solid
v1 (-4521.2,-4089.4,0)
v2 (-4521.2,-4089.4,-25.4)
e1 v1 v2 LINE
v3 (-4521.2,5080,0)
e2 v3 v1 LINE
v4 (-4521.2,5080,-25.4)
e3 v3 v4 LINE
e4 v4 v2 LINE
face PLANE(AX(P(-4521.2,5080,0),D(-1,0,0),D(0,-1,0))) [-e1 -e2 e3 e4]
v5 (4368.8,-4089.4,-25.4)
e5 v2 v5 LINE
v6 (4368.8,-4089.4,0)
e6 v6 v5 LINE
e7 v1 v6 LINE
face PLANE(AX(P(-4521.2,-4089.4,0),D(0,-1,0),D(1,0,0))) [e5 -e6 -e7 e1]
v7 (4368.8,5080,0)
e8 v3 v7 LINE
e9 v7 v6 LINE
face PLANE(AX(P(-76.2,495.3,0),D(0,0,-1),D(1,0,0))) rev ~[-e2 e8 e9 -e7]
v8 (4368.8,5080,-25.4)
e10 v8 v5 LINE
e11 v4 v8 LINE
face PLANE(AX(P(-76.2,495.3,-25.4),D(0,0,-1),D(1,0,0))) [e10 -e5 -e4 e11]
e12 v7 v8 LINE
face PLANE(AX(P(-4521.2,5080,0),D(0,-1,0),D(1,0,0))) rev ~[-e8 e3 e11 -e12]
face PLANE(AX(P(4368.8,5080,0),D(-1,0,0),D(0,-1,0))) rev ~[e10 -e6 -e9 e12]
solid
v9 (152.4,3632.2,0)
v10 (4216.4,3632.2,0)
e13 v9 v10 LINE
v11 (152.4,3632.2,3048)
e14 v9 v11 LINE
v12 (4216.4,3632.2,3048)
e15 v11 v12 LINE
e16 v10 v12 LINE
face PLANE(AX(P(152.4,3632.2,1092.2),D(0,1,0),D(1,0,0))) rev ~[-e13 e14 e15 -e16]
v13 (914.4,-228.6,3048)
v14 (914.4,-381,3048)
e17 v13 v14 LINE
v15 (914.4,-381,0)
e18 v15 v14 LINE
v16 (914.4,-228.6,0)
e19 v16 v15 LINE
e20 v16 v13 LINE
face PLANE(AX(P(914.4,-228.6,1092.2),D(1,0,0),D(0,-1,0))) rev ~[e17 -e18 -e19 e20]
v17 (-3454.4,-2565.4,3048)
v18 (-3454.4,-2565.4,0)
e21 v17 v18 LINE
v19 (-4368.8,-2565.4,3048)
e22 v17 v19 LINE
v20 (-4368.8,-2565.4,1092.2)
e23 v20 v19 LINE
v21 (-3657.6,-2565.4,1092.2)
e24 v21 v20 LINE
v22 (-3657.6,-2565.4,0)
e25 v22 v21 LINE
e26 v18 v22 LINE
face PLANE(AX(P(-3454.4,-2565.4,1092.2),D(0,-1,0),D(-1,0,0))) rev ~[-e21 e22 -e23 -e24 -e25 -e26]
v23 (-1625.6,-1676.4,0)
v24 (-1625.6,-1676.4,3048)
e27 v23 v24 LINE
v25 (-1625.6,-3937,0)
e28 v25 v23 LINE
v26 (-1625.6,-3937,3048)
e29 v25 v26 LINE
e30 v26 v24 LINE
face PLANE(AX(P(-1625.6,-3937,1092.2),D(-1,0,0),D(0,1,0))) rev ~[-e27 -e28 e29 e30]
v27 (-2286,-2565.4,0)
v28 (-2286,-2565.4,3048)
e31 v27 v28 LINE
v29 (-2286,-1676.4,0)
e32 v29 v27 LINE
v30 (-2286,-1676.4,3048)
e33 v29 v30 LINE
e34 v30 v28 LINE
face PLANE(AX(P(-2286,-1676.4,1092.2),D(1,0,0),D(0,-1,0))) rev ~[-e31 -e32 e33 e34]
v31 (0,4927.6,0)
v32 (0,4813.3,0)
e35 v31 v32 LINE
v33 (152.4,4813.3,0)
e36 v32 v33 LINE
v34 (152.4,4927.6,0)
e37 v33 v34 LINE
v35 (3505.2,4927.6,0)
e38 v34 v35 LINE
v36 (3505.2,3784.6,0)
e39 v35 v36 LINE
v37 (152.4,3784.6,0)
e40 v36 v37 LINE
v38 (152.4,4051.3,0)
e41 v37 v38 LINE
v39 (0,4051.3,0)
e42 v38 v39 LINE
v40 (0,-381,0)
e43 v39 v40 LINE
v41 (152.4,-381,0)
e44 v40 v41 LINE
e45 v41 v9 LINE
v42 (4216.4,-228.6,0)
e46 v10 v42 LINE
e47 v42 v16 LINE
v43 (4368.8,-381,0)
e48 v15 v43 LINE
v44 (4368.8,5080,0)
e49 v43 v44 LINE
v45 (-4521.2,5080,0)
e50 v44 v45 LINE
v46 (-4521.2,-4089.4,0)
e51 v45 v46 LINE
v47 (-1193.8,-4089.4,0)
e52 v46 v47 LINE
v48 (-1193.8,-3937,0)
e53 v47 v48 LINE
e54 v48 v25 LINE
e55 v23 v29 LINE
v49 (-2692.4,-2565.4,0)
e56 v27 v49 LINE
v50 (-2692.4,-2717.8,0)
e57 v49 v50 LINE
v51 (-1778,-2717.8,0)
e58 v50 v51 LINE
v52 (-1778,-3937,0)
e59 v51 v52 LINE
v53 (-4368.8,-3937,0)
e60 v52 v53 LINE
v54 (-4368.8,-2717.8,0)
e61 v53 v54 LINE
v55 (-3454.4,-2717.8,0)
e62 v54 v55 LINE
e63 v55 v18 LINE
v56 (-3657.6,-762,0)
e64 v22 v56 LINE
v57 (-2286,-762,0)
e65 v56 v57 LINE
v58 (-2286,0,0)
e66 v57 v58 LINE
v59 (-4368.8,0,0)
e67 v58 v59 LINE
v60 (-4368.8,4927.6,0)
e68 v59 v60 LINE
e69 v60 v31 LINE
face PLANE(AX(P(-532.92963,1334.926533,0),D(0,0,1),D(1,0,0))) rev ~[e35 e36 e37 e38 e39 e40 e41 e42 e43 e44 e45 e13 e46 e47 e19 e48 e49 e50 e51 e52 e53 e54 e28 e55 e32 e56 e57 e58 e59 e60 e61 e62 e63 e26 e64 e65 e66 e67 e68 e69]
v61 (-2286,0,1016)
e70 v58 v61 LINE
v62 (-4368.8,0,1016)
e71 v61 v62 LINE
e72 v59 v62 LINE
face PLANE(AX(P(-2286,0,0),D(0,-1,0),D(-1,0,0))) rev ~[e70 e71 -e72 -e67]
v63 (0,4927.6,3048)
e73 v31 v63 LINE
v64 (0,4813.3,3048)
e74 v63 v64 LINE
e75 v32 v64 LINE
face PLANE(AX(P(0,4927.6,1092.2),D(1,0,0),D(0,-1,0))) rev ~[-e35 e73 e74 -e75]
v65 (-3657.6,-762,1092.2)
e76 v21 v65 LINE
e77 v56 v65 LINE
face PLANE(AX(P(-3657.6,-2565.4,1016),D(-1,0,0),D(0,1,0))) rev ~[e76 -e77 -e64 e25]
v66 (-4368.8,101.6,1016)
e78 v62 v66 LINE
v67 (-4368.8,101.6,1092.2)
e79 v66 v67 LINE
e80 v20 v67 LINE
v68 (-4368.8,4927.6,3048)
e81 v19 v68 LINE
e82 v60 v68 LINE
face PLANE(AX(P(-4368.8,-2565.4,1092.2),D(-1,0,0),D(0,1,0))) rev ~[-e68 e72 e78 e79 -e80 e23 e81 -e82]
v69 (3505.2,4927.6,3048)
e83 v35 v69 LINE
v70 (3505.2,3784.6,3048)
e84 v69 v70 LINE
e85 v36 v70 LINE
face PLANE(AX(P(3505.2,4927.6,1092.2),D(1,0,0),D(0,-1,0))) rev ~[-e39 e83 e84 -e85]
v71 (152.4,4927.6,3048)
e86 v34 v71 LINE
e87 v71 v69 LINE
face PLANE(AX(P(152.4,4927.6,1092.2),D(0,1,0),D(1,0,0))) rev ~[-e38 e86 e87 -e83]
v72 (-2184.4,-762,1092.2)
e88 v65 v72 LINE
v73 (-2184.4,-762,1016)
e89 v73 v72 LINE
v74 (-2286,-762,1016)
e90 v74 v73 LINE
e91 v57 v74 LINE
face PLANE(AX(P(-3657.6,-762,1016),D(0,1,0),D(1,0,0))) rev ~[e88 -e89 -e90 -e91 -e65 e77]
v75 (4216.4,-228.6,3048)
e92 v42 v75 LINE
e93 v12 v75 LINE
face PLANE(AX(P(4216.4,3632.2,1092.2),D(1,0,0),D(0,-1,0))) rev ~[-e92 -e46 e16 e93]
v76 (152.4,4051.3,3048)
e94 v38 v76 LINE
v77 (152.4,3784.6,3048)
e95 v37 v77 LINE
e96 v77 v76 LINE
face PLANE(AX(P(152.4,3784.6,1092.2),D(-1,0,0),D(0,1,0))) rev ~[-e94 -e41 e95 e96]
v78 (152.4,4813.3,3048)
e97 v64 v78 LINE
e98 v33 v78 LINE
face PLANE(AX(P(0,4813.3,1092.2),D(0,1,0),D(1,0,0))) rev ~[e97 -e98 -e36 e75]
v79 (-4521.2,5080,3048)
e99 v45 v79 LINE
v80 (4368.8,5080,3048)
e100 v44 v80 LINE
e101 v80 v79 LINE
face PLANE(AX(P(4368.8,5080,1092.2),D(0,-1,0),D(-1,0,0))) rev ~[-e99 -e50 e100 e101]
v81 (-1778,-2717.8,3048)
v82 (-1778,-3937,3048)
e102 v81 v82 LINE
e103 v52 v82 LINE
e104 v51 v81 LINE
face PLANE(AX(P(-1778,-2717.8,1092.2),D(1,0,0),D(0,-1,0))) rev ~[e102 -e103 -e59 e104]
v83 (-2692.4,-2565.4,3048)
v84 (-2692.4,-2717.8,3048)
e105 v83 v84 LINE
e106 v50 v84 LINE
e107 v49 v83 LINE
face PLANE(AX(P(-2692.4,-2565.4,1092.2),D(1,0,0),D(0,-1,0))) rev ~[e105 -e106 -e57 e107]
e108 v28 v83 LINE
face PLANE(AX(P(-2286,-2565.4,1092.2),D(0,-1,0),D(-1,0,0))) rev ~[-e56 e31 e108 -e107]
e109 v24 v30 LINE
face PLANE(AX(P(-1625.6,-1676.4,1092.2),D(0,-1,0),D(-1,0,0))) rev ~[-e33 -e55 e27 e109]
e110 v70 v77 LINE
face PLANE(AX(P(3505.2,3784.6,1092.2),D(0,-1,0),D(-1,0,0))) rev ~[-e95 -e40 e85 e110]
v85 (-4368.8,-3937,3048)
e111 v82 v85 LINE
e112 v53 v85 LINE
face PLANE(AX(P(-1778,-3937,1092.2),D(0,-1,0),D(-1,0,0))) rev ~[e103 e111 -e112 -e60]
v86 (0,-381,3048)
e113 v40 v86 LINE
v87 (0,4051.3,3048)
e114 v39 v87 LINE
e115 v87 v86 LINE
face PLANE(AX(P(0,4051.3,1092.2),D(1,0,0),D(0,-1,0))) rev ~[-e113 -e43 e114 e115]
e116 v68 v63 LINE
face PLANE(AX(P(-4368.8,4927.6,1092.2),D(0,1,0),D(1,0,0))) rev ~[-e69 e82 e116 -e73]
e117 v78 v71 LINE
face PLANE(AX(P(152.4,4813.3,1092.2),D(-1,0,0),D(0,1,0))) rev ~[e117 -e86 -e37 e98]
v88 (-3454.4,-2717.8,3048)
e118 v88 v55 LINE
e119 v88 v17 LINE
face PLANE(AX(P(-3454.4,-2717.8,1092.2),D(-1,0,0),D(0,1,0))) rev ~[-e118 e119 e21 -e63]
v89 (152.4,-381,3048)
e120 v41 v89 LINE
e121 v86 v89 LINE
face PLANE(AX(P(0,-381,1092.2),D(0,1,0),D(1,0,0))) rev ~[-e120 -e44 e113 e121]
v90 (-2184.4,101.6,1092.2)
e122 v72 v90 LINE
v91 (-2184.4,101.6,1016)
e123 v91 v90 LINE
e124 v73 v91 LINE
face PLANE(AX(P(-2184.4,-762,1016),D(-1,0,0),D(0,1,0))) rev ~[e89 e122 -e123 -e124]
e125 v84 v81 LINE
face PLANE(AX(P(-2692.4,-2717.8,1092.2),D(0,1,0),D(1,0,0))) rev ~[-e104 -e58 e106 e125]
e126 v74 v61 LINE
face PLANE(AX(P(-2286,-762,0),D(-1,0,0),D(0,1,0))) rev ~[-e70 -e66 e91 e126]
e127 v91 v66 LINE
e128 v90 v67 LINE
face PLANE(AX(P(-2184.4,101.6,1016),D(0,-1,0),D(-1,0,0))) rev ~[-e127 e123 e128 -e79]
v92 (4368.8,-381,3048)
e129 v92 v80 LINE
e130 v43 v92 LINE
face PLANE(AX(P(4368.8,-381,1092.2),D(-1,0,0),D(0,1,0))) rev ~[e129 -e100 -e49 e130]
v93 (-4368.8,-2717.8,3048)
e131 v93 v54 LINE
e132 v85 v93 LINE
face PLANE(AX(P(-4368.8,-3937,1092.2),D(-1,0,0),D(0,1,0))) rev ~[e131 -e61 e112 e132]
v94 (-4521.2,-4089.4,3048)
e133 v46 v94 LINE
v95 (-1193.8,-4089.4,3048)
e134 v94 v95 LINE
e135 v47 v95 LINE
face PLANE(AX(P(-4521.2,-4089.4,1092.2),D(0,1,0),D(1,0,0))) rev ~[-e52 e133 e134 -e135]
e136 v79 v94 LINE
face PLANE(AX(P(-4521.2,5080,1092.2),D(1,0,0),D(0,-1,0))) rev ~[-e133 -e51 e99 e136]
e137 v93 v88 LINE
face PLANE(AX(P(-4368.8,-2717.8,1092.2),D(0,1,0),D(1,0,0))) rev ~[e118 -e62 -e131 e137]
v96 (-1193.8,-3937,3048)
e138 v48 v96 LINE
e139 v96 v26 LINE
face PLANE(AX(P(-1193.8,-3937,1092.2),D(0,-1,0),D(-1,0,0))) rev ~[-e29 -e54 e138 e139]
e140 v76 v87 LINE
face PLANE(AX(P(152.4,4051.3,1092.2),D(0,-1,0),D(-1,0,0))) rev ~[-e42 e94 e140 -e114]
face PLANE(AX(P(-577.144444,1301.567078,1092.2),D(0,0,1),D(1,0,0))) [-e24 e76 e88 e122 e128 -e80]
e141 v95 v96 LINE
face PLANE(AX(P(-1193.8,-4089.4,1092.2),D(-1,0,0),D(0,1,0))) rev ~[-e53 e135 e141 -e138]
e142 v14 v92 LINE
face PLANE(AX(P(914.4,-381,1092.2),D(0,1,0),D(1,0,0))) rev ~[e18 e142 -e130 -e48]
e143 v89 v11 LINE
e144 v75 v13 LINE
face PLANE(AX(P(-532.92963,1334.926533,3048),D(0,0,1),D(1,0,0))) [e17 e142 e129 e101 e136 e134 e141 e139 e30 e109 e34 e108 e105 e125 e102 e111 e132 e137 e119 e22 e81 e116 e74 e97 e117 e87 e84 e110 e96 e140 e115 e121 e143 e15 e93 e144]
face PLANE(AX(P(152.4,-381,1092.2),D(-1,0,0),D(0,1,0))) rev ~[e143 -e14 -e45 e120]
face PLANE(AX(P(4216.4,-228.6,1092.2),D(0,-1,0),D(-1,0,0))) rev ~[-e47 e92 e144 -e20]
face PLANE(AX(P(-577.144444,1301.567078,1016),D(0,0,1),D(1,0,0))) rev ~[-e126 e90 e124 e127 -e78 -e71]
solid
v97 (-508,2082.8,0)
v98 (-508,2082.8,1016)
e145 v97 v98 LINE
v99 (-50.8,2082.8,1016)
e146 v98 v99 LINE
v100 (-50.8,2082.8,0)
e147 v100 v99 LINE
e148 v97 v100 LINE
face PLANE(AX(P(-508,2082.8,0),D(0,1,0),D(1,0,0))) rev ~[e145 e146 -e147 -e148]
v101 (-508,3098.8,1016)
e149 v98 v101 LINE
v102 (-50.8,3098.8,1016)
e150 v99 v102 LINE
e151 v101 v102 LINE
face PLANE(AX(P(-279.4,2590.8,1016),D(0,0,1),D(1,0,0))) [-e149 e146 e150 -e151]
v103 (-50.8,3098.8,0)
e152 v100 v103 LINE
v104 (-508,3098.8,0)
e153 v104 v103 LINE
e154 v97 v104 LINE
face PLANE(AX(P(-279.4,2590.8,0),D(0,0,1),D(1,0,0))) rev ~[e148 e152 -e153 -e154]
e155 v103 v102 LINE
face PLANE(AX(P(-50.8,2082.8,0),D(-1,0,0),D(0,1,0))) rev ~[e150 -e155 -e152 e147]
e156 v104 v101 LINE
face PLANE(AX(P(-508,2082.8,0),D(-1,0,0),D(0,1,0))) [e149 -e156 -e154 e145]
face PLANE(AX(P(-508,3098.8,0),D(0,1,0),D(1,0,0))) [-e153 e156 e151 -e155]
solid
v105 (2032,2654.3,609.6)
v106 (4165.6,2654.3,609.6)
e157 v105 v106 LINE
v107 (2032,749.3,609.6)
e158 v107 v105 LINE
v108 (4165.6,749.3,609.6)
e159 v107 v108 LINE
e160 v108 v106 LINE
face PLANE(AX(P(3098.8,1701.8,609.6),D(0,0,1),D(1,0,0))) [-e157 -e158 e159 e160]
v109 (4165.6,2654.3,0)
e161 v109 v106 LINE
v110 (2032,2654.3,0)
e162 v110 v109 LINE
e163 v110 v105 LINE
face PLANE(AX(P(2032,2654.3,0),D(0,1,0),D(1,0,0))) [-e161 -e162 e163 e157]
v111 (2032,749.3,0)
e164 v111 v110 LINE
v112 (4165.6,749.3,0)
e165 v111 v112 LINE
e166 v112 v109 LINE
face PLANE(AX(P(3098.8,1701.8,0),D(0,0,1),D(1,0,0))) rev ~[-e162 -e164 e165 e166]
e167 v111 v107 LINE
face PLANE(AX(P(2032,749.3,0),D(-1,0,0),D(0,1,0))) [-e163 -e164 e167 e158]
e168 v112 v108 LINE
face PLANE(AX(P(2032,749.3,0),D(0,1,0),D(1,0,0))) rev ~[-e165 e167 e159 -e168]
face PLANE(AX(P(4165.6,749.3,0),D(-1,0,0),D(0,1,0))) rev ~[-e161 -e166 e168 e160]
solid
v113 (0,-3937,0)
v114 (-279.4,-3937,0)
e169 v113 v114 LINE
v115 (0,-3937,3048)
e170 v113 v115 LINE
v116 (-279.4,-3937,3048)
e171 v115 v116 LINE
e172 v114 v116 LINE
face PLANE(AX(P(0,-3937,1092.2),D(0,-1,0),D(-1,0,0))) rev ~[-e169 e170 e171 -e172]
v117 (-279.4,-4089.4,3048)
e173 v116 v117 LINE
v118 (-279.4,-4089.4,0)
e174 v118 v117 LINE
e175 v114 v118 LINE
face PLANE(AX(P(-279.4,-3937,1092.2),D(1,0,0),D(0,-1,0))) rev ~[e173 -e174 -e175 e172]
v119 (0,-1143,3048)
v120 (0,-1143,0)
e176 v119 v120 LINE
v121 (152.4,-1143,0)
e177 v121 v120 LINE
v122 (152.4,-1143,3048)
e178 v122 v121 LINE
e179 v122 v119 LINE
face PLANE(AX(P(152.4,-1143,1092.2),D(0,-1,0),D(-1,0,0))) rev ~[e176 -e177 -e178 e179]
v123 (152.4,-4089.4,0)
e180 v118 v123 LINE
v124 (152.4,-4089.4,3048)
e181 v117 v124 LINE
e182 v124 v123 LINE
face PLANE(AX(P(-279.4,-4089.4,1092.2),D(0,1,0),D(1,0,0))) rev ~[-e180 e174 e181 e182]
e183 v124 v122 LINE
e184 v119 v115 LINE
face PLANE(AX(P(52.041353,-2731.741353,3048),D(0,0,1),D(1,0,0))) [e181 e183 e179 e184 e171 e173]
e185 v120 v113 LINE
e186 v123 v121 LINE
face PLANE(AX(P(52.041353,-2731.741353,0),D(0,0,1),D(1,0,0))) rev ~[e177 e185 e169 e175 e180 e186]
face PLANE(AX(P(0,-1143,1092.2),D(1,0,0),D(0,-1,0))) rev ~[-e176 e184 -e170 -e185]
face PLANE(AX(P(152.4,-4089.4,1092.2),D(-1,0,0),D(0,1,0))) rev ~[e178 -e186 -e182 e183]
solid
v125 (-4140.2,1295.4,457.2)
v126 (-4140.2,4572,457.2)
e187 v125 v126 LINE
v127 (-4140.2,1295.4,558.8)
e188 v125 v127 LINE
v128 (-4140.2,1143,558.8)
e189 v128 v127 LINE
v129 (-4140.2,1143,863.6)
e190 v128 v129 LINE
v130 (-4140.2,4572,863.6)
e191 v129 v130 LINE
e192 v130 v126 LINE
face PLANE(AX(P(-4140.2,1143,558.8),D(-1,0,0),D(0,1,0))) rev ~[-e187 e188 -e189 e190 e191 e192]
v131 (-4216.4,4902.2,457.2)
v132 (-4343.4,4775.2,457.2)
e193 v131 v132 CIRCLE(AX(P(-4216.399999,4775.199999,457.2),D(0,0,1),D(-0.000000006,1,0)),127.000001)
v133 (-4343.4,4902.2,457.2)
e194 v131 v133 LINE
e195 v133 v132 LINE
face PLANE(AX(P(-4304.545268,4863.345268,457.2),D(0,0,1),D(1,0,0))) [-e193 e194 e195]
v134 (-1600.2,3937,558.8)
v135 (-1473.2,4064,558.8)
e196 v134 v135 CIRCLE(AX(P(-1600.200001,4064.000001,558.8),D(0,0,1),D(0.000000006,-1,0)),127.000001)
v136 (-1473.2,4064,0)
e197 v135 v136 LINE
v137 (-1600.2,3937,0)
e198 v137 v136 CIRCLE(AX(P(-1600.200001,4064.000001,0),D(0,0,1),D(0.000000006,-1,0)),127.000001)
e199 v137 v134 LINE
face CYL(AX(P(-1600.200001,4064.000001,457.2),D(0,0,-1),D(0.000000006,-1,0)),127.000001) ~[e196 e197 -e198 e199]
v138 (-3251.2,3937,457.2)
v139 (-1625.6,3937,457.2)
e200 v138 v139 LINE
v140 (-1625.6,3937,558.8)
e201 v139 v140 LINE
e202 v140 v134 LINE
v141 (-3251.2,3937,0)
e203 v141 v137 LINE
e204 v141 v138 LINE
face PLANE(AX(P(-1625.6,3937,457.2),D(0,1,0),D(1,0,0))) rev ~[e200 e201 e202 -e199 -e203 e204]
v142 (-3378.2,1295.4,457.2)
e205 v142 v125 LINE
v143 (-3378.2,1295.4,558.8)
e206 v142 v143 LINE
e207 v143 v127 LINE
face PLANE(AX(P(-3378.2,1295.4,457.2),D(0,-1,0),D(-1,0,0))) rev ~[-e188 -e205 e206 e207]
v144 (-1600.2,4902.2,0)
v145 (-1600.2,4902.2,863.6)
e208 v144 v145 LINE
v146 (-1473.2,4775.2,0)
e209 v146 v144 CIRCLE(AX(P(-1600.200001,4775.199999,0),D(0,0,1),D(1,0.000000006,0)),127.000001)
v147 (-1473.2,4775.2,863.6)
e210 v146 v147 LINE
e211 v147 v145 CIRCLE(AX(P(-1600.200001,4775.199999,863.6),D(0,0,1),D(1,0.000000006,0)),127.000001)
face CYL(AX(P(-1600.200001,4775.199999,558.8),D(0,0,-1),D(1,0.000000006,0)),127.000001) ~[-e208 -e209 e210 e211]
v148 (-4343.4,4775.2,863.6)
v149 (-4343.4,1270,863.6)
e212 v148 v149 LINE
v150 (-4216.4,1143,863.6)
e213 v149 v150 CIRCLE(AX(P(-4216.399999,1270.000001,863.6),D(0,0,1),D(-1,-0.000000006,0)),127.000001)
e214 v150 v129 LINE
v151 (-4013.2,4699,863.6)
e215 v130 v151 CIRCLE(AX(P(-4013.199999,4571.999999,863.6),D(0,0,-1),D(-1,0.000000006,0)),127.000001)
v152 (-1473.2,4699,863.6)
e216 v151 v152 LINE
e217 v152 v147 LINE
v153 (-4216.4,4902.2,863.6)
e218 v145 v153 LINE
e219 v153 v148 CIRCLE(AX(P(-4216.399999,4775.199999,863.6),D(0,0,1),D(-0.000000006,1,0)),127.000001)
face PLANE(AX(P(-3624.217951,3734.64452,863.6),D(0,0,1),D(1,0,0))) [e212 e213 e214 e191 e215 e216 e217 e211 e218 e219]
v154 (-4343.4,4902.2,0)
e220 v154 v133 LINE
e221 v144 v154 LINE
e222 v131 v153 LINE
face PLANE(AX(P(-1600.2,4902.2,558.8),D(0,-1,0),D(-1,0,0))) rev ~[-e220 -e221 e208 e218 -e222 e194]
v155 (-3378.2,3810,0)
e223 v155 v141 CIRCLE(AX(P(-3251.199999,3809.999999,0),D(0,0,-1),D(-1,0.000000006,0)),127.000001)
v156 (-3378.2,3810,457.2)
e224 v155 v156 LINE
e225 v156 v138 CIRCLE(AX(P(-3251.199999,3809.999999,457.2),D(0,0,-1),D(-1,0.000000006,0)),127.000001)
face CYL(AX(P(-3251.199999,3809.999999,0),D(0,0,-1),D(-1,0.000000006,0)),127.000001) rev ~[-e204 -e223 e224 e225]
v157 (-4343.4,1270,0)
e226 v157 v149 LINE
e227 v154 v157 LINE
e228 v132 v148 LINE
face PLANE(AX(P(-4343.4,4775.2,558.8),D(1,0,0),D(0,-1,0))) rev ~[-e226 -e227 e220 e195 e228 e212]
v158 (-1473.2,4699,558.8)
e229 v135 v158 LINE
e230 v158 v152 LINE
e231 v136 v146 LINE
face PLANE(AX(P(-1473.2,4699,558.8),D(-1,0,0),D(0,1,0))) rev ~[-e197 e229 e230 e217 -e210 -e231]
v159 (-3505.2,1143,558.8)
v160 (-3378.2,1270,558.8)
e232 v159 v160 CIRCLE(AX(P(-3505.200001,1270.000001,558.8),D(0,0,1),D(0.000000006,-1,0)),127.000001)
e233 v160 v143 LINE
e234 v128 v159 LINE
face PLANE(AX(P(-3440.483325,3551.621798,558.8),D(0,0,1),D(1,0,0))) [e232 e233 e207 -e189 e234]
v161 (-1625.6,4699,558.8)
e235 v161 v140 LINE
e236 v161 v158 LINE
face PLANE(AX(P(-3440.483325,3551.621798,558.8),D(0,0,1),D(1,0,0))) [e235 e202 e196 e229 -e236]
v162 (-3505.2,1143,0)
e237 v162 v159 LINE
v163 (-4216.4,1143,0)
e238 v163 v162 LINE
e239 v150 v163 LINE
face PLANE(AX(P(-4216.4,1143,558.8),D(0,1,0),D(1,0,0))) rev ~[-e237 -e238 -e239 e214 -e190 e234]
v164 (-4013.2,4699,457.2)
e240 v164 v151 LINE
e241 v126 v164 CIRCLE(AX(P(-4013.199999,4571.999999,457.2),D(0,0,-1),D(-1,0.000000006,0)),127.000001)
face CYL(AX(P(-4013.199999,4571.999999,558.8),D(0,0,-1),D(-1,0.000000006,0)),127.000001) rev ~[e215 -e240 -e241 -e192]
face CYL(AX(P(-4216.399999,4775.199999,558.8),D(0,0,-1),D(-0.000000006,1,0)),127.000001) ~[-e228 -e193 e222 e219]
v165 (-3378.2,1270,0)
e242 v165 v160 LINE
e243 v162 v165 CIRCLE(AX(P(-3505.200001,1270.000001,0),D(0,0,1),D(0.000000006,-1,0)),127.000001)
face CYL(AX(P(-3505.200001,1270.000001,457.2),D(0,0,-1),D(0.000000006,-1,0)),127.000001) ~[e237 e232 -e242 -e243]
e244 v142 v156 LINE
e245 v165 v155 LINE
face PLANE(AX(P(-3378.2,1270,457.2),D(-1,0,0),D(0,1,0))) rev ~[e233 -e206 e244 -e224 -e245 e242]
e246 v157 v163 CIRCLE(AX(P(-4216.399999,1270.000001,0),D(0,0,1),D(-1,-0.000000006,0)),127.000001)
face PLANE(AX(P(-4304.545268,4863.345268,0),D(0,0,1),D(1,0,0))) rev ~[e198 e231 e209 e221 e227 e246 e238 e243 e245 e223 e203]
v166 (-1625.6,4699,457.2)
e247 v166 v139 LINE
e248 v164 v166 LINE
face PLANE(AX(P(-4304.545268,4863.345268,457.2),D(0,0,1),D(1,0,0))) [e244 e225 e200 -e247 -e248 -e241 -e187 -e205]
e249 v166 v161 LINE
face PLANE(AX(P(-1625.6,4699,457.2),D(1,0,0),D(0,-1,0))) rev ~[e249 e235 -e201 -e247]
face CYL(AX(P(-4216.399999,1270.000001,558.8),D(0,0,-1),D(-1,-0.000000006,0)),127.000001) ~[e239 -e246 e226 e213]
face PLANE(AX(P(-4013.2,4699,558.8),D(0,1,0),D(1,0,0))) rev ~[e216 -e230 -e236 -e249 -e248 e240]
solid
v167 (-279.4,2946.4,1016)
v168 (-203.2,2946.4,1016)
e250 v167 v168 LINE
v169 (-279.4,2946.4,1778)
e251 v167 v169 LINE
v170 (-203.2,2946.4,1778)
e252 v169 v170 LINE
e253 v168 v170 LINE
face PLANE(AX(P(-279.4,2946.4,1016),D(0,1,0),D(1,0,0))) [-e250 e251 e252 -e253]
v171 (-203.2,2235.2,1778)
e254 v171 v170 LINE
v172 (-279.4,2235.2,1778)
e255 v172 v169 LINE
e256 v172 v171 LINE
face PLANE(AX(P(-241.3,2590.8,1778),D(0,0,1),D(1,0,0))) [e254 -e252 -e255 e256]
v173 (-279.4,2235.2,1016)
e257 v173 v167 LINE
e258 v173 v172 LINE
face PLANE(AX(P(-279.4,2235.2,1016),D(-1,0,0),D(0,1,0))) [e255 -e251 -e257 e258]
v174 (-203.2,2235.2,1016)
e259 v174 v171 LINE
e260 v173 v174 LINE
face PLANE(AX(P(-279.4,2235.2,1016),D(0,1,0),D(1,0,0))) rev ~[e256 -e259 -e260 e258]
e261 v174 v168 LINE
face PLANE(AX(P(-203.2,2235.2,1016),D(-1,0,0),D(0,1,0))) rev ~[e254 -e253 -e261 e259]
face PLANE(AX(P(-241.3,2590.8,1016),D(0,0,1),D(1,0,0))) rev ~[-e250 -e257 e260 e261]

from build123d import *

# Parameters (mm, degrees)
F1_DEPTH  = 1016
F3_DEPTH  = 76.2
F5_DEPTH  = 1955.8
F6_W      = 8890
F6_H      = 9169.4
F7_DEPTH  = 25.4
F9_DEPTH  = 457.2
F11_DEPTH = 101.6
F13_DEPTH = 304.8
F14_W     = 457.2
F14_H     = 1016
F15_DEPTH = 1016
F16_W     = 76.2
F16_H     = 711.2
F17_DEPTH = 762
F18_W     = 2133.6
F18_H     = 1905
F19_DEPTH = 609.6


with BuildPart() as f1:
    # F0 (on Top) → F1 (new body)
    with BuildSketch(Plane.XY):
        Polygon((-4368.8, 152.4), (-4368.8, 4927.6), (0, 4927.6), (0, 4813.3), (152.4, 4813.3), (152.4, 4927.6), (3505.2, 4927.6), (3505.2, 3784.6), (152.4, 3784.6), (152.4, 4051.3), (0, 4051.3), (0, 0), (0, -381), (152.4, -381), (152.4, 0), (152.4, 3632.2), (4216.4, 3632.2), (4216.4, -228.6), (914.4, -228.6), (914.4, -381), (4216.4, -381), (4368.8, -381), (4368.8, 3632.2), (4368.8, 3784.6), (4368.8, 5080), (3505.2, 5080), (152.4, 5080), (-4521.2, 5080), (-4521.2, 0), (-4521.2, -6.74503), (-4521.2, -1866.195499), (-4521.2, -4089.4), (-4368.8, -4089.4), (-1625.6, -4089.4), (-1193.8, -4089.4), (-1193.8, -3937), (-1625.6, -3937), (-1625.6, -2565.4), (-1625.6, -1676.4), (-2286, -1676.4), (-2286, -2565.4), (-2692.4, -2565.4), (-2692.4, -2717.8), (-1778, -2717.8), (-1778, -3937), (-4368.8, -3937), (-4368.8, -2717.8), (-3454.4, -2717.8), (-3454.4, -2565.4), (-3657.6, -2565.4), (-4368.8, -2565.4), (-4368.8, -762), (-4368.8, 0), align=None)
        Polygon((-3657.6, 0), (-4368.8, 0), (-4368.8, -762), (-4368.8, -2565.4), (-3657.6, -2565.4), (-3657.6, -762), (-2286, -762), (-2286, 0), (-2311.890112, 0), align=None)
        Polygon((-279.4, -4089.4), (152.4, -4089.4), (152.4, -3937), (152.4, -1143), (0, -1143), (0, -3937), (-279.4, -3937), align=None)
    extrude(amount=F1_DEPTH)

    # F2 (on face) → F3 (join)
    with BuildSketch(Plane.XY.offset(1016)):
        Polygon((-2286, -762), (-2286, 0), (-4368.8, 0), (-4368.8, 101.6), (-4368.8, 4927.6), (0, 4927.6), (0, 4813.3), (152.4, 4813.3), (152.4, 4927.6), (3505.2, 4927.6), (3505.2, 3784.6), (152.4, 3784.6), (152.4, 4051.3), (0, 4051.3), (0, -381), (152.4, -381), (152.4, 3632.2), (4216.4, 3632.2), (4216.4, -228.6), (914.4, -228.6), (914.4, -381), (4368.8, -381), (4368.8, 5080), (-4521.2, 5080), (-4521.2, -4089.4), (-1193.8, -4089.4), (-1193.8, -3937), (-1625.6, -3937), (-1625.6, -1676.4), (-2286, -1676.4), (-2286, -2565.4), (-2692.4, -2565.4), (-2692.4, -2717.8), (-1778, -2717.8), (-1778, -3937), (-4368.8, -3937), (-4368.8, -2717.8), (-3454.4, -2717.8), (-3454.4, -2565.4), (-3657.6, -2565.4), (-3657.6, -762), align=None)
        Polygon((0, -1143), (0, -3937), (-279.4, -3937), (-279.4, -4089.4), (152.4, -4089.4), (152.4, -1143), align=None)
        Polygon((-4368.8, 0), (-2286, 0), (-2286, -762), (-2184.4, -762), (-2184.4, 101.6), (-2286, 101.6), (-4368.8, 101.6), align=None)
    extrude(amount=F3_DEPTH)

    # F4 (on face) → F5 (join)
    with BuildSketch(Plane.XY.offset(1092.2)):
        Polygon((0, -1143), (0, -3937), (-279.4, -3937), (-279.4, -4089.4), (152.4, -4089.4), (152.4, -1143), align=None)
        Polygon((-3454.4, -2565.4), (-3657.6, -2565.4), (-4368.8, -2565.4), (-4368.8, 101.6), (-4368.8, 4927.6), (0, 4927.6), (0, 4813.3), (152.4, 4813.3), (152.4, 4927.6), (3505.2, 4927.6), (3505.2, 3784.6), (152.4, 3784.6), (152.4, 4051.3), (0, 4051.3), (0, -381), (152.4, -381), (152.4, 3632.2), (4216.4, 3632.2), (4216.4, -228.6), (914.4, -228.6), (914.4, -381), (4368.8, -381), (4368.8, 5080), (-4521.2, 5080), (-4521.2, -4089.4), (-1193.8, -4089.4), (-1193.8, -3937), (-1625.6, -3937), (-1625.6, -1676.4), (-2286, -1676.4), (-2286, -2565.4), (-2692.4, -2565.4), (-2692.4, -2717.8), (-1778, -2717.8), (-1778, -3937), (-4368.8, -3937), (-4368.8, -2717.8), (-3454.4, -2717.8), align=None)
    extrude(amount=F5_DEPTH)


with BuildPart() as f7:
    # F6 (on face) → F7 (new body)
    with BuildSketch(Plane(origin=(0, 0, 0), x_dir=(1, 0, 0), z_dir=(0, 0, -1))):
        with Locations((-76.2, -495.3)):
            Rectangle(F6_W, F6_H)
    extrude(amount=F7_DEPTH)


with BuildPart() as f9:
    # F8 (on face) → F9 (new body)
    with BuildSketch(Plane.XY):
        with BuildLine():
            Line((-4216.4, 4902.2), (-4343.4, 4902.2))
            Line((-4343.4, 4902.2), (-4343.4, 4775.2))
            ThreePointArc((-4343.4, 4775.2), (-4306.202561, 4865.002561), (-4216.4, 4902.2))
        make_face()
        with BuildLine():
            Line((-3378.2, 4902.2), (-4216.4, 4902.2))
            ThreePointArc((-4216.4, 4902.2), (-4306.202561, 4865.002561), (-4343.4, 4775.2))
            Line((-4343.4, 4775.2), (-4343.4, 3937))
            Line((-4343.4, 3937), (-4343.4, 1270))
            ThreePointArc((-4343.4, 1270), (-4306.202561, 1180.197439), (-4216.4, 1143))
            Line((-4216.4, 1143), (-3505.2, 1143))
            ThreePointArc((-3505.2, 1143), (-3415.397439, 1180.197439), (-3378.2, 1270))
            Line((-3378.2, 1270), (-3378.2, 3810))
            ThreePointArc((-3378.2, 3810), (-3341.002561, 3899.802561), (-3251.2, 3937))
            Line((-3251.2, 3937), (-1600.2, 3937))
            ThreePointArc((-1600.2, 3937), (-1510.397439, 3974.197439), (-1473.2, 4064))
            Line((-1473.2, 4064), (-1473.2, 4775.2))
            ThreePointArc((-1473.2, 4775.2), (-1510.397439, 4865.002561), (-1600.2, 4902.2))
            Line((-1600.2, 4902.2), (-3378.2, 4902.2))
        make_face()
    extrude(amount=F9_DEPTH)

    # F10 (on face) → F11 (join)
    with BuildSketch(Plane.XY.offset(457.2)):
        with BuildLine():
            Line((-1600.2, 4902.2), (-4216.4, 4902.2))
            ThreePointArc((-4216.4, 4902.2), (-4306.202561, 4865.002561), (-4343.4, 4775.2))
            Line((-4343.4, 4775.2), (-4343.4, 1270))
            ThreePointArc((-4343.4, 1270), (-4306.202561, 1180.197439), (-4216.4, 1143))
            Line((-4216.4, 1143), (-3505.2, 1143))
            ThreePointArc((-3505.2, 1143), (-3415.397439, 1180.197439), (-3378.2, 1270))
            Line((-3378.2, 1270), (-3378.2, 1295.4))
            Line((-3378.2, 1295.4), (-4140.2, 1295.4))
            Line((-4140.2, 1295.4), (-4140.2, 4572))
            ThreePointArc((-4140.2, 4572), (-4103.002561, 4661.802561), (-4013.2, 4699))
            Line((-4013.2, 4699), (-1625.6, 4699))
            Line((-1625.6, 4699), (-1625.6, 3937))
            Line((-1625.6, 3937), (-1600.2, 3937))
            ThreePointArc((-1600.2, 3937), (-1510.397439, 3974.197439), (-1473.2, 4064))
            Line((-1473.2, 4064), (-1473.2, 4775.2))
            ThreePointArc((-1473.2, 4775.2), (-1510.397439, 4865.002561), (-1600.2, 4902.2))
        make_face()
    extrude(amount=F11_DEPTH)

    # F12 (on face) → F13 (join)
    with BuildSketch(Plane.XY.offset(558.8)):
        with BuildLine():
            ThreePointArc((-4140.2, 4572), (-4103.002561, 4661.802561), (-4013.2, 4699))
            Line((-4013.2, 4699), (-1625.6, 4699))
            Line((-1625.6, 4699), (-1473.2, 4699))
            Line((-1473.2, 4699), (-1473.2, 4775.2))
            ThreePointArc((-1473.2, 4775.2), (-1510.397439, 4865.002561), (-1600.2, 4902.2))
            Line((-1600.2, 4902.2), (-4216.4, 4902.2))
            ThreePointArc((-4216.4, 4902.2), (-4306.202561, 4865.002561), (-4343.4, 4775.2))
            Line((-4343.4, 4775.2), (-4343.4, 1270))
            ThreePointArc((-4343.4, 1270), (-4306.202561, 1180.197439), (-4216.4, 1143))
            Line((-4216.4, 1143), (-4140.2, 1143))
            Line((-4140.2, 1143), (-4140.2, 1295.4))
            Line((-4140.2, 1295.4), (-4140.2, 4572))
        make_face()
    extrude(amount=F13_DEPTH)


with BuildPart() as f15:
    # F14 (on face) → F15 (new body)
    with BuildSketch(Plane.XY):
        with Locations((-279.4, 2590.8)):
            Rectangle(F14_W, F14_H)
    extrude(amount=F15_DEPTH)


with BuildPart() as f17:
    # F16 (on face) → F17 (new body)
    with BuildSketch(Plane.XY.offset(1016)):
        with Locations((-241.3, 2590.8)):
            Rectangle(F16_W, F16_H)
    extrude(amount=F17_DEPTH)


with BuildPart() as f19:
    # F18 (on face) → F19 (new body)
    with BuildSketch(Plane.XY):
        with Locations((3098.8, 1701.8)):
            Rectangle(F18_W, F18_H)
    extrude(amount=F19_DEPTH)


solid = Compound([f1.part, f7.part, f9.part, f15.part, f17.part, f19.part])
